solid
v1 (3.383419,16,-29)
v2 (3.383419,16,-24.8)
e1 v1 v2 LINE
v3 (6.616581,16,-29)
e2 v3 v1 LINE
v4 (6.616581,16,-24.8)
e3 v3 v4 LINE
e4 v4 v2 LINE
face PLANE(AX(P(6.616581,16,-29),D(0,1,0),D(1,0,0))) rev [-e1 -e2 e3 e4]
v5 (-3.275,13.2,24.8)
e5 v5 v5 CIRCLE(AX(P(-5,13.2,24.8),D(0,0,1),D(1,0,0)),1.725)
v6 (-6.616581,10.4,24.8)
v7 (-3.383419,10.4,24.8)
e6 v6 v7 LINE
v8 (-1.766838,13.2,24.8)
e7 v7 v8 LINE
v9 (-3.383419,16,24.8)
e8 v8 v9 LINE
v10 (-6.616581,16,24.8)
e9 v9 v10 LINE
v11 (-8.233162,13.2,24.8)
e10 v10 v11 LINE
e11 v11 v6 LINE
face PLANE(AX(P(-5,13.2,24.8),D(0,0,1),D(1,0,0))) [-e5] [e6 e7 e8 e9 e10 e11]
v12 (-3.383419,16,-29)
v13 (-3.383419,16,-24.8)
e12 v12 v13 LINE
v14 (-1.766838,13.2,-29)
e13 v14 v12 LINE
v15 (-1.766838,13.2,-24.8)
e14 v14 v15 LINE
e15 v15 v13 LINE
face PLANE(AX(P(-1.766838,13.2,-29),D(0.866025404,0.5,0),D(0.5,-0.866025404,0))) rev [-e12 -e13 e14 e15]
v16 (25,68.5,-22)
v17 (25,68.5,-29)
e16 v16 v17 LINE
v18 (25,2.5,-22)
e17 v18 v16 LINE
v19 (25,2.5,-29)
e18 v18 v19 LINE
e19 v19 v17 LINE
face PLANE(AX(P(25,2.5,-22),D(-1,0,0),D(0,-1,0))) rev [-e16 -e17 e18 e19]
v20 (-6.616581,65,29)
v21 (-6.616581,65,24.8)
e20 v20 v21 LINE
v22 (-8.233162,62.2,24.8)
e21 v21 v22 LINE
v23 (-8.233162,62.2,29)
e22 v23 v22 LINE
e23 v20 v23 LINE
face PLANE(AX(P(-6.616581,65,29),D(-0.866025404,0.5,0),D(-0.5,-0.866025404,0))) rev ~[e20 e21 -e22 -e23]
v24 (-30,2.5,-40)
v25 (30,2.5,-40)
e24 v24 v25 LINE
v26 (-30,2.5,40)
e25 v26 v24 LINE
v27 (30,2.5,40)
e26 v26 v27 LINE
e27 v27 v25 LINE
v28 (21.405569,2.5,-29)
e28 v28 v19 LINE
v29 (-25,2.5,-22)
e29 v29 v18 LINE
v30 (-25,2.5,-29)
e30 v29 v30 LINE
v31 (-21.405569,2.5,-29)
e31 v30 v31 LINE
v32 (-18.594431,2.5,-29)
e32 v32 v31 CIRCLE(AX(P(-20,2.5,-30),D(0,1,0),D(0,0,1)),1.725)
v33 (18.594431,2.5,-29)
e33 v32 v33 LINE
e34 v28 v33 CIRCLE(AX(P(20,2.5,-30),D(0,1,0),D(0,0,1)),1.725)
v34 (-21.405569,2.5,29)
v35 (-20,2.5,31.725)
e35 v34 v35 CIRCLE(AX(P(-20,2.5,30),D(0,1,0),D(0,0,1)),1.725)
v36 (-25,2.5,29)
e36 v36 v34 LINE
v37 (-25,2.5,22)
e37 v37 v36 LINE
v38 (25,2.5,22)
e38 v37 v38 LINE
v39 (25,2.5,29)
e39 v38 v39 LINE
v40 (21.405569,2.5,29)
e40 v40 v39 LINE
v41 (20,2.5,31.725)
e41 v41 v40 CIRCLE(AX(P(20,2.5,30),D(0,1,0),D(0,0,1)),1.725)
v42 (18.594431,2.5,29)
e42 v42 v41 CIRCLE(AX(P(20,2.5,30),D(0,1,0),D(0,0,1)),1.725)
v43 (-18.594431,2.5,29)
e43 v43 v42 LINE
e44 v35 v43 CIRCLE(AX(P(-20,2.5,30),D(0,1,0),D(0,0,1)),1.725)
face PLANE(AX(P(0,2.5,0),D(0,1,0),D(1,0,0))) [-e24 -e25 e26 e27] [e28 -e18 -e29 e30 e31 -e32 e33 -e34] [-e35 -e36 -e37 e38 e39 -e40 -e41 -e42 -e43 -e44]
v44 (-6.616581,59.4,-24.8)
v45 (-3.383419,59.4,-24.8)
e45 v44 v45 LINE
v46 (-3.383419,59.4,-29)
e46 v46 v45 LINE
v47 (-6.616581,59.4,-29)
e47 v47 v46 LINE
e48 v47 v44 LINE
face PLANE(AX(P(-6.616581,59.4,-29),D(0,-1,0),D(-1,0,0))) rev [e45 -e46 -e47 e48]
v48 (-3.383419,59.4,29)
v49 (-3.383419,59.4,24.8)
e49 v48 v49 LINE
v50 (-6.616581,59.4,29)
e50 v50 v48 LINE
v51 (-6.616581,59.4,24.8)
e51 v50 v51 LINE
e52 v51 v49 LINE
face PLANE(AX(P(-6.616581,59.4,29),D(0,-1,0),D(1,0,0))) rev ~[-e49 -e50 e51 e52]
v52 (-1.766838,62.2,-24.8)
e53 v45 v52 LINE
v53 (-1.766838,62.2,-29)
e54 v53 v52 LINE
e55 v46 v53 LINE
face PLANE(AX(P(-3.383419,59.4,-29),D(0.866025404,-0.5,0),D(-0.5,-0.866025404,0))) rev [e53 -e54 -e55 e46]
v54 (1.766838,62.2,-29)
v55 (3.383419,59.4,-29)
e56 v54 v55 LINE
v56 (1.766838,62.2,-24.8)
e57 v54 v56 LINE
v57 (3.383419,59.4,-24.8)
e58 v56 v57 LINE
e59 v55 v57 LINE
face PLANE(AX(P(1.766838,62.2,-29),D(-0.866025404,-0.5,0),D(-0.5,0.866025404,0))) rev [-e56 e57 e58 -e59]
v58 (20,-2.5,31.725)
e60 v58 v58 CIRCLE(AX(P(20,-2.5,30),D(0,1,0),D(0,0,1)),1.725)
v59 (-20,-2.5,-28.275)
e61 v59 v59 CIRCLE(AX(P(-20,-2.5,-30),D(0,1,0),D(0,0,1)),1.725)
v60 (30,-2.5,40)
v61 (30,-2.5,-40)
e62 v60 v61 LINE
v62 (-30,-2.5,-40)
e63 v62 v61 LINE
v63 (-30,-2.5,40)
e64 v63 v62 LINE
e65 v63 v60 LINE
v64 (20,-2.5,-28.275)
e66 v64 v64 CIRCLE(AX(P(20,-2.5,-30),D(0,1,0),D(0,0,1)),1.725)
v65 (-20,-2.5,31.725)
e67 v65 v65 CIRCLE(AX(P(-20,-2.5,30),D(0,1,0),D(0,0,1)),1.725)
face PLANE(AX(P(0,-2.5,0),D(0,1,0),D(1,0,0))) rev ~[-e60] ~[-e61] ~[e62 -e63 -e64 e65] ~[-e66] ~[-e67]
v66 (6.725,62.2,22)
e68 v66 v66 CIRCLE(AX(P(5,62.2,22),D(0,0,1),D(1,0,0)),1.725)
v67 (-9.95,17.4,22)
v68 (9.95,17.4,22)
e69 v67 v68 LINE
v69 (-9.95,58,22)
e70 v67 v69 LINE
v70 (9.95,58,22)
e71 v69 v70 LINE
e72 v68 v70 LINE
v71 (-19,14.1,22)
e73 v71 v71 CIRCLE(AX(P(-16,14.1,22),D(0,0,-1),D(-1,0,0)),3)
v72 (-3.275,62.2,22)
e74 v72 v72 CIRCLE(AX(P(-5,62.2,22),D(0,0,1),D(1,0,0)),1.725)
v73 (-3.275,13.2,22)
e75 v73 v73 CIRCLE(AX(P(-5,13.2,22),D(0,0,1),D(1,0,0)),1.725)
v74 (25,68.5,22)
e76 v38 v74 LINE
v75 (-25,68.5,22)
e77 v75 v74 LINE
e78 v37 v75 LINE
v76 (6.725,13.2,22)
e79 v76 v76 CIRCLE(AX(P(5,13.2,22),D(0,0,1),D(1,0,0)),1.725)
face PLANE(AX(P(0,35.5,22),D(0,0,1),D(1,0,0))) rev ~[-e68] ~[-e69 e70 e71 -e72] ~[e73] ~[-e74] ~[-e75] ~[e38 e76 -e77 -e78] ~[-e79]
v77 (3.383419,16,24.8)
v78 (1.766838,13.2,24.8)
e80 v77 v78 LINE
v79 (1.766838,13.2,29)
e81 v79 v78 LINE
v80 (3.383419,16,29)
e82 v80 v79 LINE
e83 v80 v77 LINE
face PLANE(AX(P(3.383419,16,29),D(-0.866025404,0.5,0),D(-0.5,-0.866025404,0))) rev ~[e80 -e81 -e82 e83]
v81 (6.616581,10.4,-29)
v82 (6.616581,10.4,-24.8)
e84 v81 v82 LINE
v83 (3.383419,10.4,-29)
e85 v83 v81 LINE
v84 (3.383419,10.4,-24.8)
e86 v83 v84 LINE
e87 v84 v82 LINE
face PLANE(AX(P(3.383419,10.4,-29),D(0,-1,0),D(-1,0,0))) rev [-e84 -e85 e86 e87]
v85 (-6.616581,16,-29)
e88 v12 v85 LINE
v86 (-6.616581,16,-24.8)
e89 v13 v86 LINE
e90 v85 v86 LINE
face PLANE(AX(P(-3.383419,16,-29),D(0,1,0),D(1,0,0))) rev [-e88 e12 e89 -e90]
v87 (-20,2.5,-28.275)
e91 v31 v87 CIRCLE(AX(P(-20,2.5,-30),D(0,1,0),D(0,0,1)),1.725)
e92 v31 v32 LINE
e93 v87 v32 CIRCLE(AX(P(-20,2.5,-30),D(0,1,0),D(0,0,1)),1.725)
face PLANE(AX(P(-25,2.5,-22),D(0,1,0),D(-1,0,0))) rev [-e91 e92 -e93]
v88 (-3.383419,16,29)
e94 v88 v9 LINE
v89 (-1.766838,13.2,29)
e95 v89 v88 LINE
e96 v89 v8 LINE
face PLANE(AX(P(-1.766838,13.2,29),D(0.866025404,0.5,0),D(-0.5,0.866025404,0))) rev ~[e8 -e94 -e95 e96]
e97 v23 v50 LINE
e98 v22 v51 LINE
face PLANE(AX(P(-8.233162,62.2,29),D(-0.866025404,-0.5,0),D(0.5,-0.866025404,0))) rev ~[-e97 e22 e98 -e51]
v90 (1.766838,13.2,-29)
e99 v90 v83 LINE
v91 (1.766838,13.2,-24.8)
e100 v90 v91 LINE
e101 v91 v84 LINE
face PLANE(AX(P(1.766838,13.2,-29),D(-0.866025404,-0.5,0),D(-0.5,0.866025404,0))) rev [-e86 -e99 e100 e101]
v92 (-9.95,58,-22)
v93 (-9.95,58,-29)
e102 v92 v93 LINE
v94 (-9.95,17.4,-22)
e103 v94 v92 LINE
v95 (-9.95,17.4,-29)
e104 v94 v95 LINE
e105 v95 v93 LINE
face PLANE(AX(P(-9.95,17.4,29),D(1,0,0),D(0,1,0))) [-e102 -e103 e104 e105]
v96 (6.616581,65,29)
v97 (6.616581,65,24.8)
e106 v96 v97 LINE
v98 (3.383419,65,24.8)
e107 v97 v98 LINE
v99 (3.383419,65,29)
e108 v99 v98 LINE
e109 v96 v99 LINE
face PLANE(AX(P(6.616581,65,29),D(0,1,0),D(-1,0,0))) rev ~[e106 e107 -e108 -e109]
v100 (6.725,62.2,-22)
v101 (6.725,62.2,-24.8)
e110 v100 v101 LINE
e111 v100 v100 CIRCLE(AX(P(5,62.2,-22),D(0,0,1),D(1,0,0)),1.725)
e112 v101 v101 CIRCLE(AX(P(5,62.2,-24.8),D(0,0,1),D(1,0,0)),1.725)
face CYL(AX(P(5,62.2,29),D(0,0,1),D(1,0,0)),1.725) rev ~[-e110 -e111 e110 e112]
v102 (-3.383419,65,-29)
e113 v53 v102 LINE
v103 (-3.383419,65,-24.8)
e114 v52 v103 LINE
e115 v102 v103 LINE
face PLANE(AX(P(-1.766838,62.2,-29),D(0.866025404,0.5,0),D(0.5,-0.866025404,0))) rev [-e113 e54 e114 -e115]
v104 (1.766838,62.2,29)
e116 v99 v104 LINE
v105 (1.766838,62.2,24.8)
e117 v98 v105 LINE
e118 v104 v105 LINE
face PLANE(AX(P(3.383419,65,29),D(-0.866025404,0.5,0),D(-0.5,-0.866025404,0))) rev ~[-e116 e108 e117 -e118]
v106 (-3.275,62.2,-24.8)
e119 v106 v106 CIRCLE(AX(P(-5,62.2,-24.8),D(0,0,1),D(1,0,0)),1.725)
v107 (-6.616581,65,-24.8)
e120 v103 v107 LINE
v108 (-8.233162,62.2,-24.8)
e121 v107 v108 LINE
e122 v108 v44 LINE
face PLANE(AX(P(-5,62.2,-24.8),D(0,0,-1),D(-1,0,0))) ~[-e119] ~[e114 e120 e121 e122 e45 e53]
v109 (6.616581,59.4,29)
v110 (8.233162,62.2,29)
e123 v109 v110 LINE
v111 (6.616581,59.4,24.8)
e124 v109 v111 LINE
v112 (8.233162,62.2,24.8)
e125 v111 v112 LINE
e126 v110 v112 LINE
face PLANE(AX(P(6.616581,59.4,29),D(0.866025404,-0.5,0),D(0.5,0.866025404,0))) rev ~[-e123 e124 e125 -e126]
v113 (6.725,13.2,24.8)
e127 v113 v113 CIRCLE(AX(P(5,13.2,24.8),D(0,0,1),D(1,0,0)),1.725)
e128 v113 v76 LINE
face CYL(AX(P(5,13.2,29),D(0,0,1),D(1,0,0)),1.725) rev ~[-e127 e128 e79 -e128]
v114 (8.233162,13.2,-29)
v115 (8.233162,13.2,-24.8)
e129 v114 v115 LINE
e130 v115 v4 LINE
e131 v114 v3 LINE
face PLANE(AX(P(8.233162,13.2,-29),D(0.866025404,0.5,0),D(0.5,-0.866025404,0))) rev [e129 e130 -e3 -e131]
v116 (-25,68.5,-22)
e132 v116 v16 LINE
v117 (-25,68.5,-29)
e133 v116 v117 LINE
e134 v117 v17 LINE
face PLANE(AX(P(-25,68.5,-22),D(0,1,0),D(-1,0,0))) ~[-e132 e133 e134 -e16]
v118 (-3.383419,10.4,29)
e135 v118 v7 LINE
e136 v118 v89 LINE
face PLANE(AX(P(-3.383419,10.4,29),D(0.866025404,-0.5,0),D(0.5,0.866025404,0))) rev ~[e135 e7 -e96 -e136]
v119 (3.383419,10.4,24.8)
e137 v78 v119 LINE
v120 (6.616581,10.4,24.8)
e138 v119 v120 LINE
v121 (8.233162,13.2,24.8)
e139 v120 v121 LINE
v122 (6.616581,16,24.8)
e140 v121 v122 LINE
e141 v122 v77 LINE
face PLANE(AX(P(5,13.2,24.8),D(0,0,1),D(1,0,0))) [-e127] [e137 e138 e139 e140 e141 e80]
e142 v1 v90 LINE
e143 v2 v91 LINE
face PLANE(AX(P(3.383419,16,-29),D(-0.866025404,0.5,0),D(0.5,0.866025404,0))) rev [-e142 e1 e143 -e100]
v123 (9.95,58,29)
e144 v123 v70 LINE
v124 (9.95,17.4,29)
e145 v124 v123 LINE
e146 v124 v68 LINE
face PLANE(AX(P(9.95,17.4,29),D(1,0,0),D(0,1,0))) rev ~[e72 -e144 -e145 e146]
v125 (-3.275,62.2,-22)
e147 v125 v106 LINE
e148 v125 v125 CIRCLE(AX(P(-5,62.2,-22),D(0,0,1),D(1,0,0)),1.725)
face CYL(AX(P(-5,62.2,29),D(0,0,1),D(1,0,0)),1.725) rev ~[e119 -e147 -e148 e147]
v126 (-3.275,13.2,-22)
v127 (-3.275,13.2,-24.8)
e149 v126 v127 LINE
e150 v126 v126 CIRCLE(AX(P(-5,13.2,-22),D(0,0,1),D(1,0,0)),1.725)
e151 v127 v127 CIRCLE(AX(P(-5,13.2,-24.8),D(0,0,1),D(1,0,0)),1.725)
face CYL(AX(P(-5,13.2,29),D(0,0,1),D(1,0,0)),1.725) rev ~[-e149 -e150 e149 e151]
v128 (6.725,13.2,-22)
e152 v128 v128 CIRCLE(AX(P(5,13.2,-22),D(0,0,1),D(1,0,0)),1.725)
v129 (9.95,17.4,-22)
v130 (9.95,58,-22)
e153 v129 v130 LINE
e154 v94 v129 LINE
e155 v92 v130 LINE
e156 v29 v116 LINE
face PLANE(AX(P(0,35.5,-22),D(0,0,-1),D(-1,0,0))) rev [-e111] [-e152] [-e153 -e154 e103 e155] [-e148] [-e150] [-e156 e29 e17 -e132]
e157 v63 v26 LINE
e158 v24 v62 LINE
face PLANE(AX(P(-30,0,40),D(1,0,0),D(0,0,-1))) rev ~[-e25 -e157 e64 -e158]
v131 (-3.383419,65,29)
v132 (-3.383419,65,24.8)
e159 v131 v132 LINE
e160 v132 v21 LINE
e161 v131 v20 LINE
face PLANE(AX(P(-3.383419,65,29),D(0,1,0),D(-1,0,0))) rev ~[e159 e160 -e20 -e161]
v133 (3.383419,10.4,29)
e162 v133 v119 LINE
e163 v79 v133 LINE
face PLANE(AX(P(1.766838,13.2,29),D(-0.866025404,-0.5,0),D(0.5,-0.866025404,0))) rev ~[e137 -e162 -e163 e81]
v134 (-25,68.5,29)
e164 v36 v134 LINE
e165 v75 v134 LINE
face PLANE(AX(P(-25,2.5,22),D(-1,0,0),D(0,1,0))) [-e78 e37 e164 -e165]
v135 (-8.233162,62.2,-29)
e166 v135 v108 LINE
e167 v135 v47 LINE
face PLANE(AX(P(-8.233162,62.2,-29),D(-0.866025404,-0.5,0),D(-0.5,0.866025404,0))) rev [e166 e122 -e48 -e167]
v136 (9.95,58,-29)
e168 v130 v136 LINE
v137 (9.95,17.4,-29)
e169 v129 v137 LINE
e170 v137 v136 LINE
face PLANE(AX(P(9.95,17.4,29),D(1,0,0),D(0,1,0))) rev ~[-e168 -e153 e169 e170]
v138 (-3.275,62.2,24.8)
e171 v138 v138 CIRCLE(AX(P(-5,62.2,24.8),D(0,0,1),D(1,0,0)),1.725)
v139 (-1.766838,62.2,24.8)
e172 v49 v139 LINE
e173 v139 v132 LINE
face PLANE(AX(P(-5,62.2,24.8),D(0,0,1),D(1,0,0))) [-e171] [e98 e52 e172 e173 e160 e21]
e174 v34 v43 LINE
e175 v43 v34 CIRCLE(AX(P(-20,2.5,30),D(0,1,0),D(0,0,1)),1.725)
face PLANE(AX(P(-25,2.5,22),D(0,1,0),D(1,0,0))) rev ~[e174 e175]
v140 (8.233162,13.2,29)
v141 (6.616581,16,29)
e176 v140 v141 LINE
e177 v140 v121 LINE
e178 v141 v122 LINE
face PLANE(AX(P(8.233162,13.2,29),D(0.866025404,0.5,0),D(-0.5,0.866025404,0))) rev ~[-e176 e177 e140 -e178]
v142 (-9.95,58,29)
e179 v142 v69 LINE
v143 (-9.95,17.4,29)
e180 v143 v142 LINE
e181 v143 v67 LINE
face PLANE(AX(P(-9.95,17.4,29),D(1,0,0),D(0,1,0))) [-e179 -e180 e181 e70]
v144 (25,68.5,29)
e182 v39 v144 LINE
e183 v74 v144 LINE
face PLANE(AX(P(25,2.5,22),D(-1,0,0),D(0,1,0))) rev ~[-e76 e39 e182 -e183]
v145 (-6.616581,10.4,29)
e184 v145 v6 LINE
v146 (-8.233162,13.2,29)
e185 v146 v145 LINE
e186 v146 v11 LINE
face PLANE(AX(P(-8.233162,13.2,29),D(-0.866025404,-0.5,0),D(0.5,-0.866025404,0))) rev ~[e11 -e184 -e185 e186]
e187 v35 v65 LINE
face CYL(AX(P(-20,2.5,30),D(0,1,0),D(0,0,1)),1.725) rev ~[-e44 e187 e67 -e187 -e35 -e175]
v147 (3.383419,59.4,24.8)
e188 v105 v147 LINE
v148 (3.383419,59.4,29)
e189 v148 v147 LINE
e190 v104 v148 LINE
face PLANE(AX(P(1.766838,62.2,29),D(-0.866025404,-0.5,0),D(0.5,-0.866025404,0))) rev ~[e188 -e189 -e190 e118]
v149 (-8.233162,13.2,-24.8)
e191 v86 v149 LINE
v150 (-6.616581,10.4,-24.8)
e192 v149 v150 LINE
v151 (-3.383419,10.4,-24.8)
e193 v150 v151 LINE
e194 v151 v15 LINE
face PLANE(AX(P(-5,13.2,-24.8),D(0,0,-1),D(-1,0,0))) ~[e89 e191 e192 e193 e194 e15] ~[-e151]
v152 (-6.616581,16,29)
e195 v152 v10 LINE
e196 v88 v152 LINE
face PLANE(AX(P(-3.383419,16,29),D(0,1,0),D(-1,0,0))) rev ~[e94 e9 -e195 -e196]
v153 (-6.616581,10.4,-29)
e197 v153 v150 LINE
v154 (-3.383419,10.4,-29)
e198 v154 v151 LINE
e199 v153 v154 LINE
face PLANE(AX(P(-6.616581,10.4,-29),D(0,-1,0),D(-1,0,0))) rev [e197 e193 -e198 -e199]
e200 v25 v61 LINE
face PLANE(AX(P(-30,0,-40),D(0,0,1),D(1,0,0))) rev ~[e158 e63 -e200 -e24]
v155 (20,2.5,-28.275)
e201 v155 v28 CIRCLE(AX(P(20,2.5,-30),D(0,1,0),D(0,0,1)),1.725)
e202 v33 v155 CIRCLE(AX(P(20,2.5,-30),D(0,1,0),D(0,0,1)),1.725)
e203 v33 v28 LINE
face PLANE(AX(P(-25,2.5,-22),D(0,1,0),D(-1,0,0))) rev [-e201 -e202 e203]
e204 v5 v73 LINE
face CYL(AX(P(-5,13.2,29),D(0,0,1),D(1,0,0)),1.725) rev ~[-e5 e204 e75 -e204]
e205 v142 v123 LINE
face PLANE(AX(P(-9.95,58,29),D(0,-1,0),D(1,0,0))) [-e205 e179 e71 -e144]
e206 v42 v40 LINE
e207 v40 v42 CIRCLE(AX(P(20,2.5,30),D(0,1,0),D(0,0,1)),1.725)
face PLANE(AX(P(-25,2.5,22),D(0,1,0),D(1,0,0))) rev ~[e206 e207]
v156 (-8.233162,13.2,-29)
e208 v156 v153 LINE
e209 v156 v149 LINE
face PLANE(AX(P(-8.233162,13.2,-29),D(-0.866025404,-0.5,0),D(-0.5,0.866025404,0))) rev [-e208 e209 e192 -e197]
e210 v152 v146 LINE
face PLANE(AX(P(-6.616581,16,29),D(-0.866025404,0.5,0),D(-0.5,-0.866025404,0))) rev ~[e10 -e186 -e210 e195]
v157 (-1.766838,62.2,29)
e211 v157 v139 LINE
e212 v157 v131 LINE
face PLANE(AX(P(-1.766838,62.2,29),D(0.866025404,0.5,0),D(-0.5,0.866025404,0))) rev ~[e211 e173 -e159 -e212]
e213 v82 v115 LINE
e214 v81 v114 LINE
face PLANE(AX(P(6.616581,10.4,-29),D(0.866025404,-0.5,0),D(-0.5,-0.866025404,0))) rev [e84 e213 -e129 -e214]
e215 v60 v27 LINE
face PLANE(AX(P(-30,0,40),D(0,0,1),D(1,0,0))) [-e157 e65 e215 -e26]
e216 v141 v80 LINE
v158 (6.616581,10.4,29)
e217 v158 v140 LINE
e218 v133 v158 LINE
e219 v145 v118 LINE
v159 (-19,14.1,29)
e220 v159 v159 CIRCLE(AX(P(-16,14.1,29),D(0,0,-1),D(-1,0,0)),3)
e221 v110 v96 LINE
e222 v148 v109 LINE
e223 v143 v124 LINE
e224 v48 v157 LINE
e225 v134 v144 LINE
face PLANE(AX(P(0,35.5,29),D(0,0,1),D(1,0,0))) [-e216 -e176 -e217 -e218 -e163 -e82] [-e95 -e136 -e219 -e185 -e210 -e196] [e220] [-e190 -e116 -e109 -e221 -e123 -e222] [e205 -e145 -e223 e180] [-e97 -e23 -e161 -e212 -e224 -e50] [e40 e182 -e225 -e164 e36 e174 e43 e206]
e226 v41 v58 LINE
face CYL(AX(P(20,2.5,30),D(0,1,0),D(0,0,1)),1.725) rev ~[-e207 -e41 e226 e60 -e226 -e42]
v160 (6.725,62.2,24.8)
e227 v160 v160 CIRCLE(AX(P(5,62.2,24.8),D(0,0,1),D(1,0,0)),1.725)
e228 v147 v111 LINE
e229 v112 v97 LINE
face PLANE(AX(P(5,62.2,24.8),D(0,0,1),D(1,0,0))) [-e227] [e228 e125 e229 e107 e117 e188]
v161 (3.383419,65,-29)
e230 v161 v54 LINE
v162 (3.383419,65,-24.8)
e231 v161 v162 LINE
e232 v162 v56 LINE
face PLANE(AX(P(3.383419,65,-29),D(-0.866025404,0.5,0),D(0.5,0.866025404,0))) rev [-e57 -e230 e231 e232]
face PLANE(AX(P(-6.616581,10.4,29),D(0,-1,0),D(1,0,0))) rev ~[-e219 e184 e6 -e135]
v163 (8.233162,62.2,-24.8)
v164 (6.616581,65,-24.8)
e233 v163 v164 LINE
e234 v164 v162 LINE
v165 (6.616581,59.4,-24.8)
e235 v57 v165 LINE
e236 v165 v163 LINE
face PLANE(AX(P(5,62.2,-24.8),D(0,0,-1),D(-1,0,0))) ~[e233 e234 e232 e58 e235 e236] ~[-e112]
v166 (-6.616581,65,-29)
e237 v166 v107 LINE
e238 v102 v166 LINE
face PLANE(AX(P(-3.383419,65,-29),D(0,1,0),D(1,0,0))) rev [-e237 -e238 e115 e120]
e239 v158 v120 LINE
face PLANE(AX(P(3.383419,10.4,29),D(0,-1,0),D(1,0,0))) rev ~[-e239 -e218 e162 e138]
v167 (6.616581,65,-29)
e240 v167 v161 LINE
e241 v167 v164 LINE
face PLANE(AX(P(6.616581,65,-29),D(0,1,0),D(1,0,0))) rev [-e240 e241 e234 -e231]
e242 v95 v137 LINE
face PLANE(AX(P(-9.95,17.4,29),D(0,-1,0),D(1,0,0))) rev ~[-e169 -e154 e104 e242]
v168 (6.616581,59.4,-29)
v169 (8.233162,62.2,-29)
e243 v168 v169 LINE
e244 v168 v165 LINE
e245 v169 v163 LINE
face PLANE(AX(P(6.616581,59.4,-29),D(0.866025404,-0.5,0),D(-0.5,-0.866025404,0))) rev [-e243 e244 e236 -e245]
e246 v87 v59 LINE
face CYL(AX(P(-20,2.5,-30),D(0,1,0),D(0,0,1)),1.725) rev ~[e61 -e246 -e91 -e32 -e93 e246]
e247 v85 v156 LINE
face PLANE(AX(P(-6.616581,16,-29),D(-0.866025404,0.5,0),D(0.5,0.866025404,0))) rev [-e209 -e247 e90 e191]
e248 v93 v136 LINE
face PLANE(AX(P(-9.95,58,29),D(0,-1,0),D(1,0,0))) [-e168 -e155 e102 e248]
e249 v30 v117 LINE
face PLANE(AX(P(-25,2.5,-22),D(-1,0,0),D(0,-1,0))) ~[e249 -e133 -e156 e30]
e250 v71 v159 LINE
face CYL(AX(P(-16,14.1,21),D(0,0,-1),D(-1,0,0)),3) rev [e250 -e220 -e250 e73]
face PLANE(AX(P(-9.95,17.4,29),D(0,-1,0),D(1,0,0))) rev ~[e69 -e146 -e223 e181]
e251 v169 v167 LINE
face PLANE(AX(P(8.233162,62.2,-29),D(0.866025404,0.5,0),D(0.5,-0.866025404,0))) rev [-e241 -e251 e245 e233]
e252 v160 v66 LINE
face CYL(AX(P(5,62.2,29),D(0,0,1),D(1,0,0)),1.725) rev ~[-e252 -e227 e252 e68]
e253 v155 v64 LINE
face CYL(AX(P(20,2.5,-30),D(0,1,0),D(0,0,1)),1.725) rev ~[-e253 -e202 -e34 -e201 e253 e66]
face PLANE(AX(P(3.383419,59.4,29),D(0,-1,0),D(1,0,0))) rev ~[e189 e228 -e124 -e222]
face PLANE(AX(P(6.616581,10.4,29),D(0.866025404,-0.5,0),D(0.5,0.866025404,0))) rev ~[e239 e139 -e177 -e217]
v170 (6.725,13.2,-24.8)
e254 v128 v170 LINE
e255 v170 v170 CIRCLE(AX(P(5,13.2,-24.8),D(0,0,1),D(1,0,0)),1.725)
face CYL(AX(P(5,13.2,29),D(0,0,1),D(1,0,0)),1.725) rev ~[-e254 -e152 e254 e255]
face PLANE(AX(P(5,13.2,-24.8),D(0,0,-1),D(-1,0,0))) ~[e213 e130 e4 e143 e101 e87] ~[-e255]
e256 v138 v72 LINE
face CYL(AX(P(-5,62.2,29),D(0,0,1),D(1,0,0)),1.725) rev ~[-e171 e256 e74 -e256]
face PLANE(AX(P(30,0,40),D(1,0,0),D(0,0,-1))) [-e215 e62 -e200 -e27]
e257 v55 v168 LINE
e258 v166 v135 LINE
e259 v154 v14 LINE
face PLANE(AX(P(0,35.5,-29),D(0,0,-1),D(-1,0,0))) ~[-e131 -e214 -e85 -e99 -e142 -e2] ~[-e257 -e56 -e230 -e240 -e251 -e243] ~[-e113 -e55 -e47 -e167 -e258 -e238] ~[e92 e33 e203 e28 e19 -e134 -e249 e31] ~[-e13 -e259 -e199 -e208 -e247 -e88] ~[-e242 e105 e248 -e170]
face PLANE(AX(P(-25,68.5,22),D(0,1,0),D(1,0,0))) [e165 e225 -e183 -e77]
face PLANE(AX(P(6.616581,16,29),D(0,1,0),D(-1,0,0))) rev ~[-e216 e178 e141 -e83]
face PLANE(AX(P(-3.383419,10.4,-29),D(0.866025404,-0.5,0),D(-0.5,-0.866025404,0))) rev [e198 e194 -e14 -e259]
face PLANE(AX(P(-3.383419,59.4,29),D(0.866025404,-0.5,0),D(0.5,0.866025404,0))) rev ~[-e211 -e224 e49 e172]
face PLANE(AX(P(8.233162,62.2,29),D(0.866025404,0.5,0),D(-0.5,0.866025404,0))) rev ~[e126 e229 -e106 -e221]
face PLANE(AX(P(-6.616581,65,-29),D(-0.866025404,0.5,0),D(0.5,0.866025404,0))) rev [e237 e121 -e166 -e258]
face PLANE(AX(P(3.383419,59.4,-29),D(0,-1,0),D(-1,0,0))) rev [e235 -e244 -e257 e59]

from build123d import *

# Parameters (mm, degrees)
SKETCH1_W           = 60
SKETCH1_H           = 80
BOSS_EXTRUDE1_DEPTH = 2.5
SKETCH2_R           = 1.725
CUT_EXTRUDE1_DEPTH  = 51.249378106
SKETCH3_W           = 50
SKETCH3_H           = 66
BOSS_EXTRUDE2_DEPTH = 7
SKETCH4_W           = 19.9
SKETCH4_H           = 40.6
CUT_EXTRUDE2_DEPTH  = 102.750921372
SKETCH5_R           = 1.725
CUT_EXTRUDE3_DEPTH  = 102.750921372
CUT_EXTRUDE4_DEPTH  = 4.2
CUT_EXTRUDE5_START  = 21
SKETCH7_R           = 3
CUT_EXTRUDE5_DEPTH  = 9


with BuildPart() as part:
    # Sketch1 → Boss-Extrude1 (new, symmetric)
    with BuildSketch(Plane(origin=(0, 0, 0), x_dir=(1, 0, 0), z_dir=(0, 1, 0))):
        Rectangle(SKETCH1_W, SKETCH1_H)
    extrude(amount=BOSS_EXTRUDE1_DEPTH, both=True)

    # Sketch2 → Cut-Extrude1 (cut, through all)
    with BuildSketch(Plane(origin=(0, 2.5, 0), x_dir=(1, 0, 0), z_dir=(0, 1, 0))):
        with Locations(Location((-20, 30, 0), (0, 0, 270))):
            Circle(SKETCH2_R)
        with Locations(Location((20, 30, 0), (0, 0, 270))):
            Circle(SKETCH2_R)
        with Locations(Location((20, -30, 0), (0, 0, 270))):
            Circle(SKETCH2_R)
        with Locations(Location((-20, -30, 0), (0, 0, 270))):
            Circle(SKETCH2_R)
    extrude(amount=-CUT_EXTRUDE1_DEPTH, mode=Mode.SUBTRACT)

    # Sketch3 → Boss-Extrude2 (add)
    with BuildSketch(Plane.XY.offset(22)):
        with Locations((0, 35.5)):
            Rectangle(SKETCH3_W, SKETCH3_H)
    boss_extrude2 = extrude(amount=BOSS_EXTRUDE2_DEPTH)

    # Mirror1: Boss-Extrude2 across plane
    add(boss_extrude2.mirror(Plane.XY))

    # Sketch4 → Cut-Extrude2 (cut, through all)
    with BuildSketch(Plane.XY.offset(29)):
        with Locations((0, 37.7)):
            Rectangle(SKETCH4_W, SKETCH4_H)
    extrude(amount=-CUT_EXTRUDE2_DEPTH, mode=Mode.SUBTRACT)

    # Sketch5 → Cut-Extrude3 (cut, through all)
    with BuildSketch(Plane.XY.offset(29)):
        with Locations((-5, 62.2)):
            Circle(SKETCH5_R)
        with Locations((5, 62.2)):
            Circle(SKETCH5_R)
        with Locations((-5, 13.2)):
            Circle(SKETCH5_R)
        with Locations((5, 13.2)):
            Circle(SKETCH5_R)
    extrude(amount=-CUT_EXTRUDE3_DEPTH, mode=Mode.SUBTRACT)

    # Sketch6 → Cut-Extrude4 (cut)
    with BuildSketch(Plane.XY.offset(29)):
        Polygon((-1.766838493, 62.2), (-3.383419246, 65), (-6.616580754, 65), (-8.233161507, 62.2), (-6.616580754, 59.4), (-3.383419246, 59.4), align=None)
        Polygon((1.766838493, 62.2), (3.383419246, 59.4), (6.616580754, 59.4), (8.233161507, 62.2), (6.616580754, 65), (3.383419246, 65), align=None)
        Polygon((-1.766838493, 13.2), (-3.383419246, 16), (-6.616580754, 16), (-8.233161507, 13.2), (-6.616580754, 10.4), (-3.383419246, 10.4), align=None)
        Polygon((8.233161507, 13.2), (6.616580754, 16), (3.383419246, 16), (1.766838493, 13.2), (3.383419246, 10.4), (6.616580754, 10.4), align=None)
    cut_extrude4 = extrude(amount=-CUT_EXTRUDE4_DEPTH, mode=Mode.SUBTRACT)

    # Mirror3: Cut-Extrude4 across plane
    add(cut_extrude4.mirror(Plane.XY), mode=Mode.SUBTRACT)

    # Sketch7 → Cut-Extrude5 (cut)
    with BuildSketch(Plane.XY.offset(CUT_EXTRUDE5_START)):
        with Locations(Location((-16, 14.1, 0), (0, 0, 180))):
            Circle(SKETCH7_R)
    extrude(amount=CUT_EXTRUDE5_DEPTH, mode=Mode.SUBTRACT)


solid = part.part
